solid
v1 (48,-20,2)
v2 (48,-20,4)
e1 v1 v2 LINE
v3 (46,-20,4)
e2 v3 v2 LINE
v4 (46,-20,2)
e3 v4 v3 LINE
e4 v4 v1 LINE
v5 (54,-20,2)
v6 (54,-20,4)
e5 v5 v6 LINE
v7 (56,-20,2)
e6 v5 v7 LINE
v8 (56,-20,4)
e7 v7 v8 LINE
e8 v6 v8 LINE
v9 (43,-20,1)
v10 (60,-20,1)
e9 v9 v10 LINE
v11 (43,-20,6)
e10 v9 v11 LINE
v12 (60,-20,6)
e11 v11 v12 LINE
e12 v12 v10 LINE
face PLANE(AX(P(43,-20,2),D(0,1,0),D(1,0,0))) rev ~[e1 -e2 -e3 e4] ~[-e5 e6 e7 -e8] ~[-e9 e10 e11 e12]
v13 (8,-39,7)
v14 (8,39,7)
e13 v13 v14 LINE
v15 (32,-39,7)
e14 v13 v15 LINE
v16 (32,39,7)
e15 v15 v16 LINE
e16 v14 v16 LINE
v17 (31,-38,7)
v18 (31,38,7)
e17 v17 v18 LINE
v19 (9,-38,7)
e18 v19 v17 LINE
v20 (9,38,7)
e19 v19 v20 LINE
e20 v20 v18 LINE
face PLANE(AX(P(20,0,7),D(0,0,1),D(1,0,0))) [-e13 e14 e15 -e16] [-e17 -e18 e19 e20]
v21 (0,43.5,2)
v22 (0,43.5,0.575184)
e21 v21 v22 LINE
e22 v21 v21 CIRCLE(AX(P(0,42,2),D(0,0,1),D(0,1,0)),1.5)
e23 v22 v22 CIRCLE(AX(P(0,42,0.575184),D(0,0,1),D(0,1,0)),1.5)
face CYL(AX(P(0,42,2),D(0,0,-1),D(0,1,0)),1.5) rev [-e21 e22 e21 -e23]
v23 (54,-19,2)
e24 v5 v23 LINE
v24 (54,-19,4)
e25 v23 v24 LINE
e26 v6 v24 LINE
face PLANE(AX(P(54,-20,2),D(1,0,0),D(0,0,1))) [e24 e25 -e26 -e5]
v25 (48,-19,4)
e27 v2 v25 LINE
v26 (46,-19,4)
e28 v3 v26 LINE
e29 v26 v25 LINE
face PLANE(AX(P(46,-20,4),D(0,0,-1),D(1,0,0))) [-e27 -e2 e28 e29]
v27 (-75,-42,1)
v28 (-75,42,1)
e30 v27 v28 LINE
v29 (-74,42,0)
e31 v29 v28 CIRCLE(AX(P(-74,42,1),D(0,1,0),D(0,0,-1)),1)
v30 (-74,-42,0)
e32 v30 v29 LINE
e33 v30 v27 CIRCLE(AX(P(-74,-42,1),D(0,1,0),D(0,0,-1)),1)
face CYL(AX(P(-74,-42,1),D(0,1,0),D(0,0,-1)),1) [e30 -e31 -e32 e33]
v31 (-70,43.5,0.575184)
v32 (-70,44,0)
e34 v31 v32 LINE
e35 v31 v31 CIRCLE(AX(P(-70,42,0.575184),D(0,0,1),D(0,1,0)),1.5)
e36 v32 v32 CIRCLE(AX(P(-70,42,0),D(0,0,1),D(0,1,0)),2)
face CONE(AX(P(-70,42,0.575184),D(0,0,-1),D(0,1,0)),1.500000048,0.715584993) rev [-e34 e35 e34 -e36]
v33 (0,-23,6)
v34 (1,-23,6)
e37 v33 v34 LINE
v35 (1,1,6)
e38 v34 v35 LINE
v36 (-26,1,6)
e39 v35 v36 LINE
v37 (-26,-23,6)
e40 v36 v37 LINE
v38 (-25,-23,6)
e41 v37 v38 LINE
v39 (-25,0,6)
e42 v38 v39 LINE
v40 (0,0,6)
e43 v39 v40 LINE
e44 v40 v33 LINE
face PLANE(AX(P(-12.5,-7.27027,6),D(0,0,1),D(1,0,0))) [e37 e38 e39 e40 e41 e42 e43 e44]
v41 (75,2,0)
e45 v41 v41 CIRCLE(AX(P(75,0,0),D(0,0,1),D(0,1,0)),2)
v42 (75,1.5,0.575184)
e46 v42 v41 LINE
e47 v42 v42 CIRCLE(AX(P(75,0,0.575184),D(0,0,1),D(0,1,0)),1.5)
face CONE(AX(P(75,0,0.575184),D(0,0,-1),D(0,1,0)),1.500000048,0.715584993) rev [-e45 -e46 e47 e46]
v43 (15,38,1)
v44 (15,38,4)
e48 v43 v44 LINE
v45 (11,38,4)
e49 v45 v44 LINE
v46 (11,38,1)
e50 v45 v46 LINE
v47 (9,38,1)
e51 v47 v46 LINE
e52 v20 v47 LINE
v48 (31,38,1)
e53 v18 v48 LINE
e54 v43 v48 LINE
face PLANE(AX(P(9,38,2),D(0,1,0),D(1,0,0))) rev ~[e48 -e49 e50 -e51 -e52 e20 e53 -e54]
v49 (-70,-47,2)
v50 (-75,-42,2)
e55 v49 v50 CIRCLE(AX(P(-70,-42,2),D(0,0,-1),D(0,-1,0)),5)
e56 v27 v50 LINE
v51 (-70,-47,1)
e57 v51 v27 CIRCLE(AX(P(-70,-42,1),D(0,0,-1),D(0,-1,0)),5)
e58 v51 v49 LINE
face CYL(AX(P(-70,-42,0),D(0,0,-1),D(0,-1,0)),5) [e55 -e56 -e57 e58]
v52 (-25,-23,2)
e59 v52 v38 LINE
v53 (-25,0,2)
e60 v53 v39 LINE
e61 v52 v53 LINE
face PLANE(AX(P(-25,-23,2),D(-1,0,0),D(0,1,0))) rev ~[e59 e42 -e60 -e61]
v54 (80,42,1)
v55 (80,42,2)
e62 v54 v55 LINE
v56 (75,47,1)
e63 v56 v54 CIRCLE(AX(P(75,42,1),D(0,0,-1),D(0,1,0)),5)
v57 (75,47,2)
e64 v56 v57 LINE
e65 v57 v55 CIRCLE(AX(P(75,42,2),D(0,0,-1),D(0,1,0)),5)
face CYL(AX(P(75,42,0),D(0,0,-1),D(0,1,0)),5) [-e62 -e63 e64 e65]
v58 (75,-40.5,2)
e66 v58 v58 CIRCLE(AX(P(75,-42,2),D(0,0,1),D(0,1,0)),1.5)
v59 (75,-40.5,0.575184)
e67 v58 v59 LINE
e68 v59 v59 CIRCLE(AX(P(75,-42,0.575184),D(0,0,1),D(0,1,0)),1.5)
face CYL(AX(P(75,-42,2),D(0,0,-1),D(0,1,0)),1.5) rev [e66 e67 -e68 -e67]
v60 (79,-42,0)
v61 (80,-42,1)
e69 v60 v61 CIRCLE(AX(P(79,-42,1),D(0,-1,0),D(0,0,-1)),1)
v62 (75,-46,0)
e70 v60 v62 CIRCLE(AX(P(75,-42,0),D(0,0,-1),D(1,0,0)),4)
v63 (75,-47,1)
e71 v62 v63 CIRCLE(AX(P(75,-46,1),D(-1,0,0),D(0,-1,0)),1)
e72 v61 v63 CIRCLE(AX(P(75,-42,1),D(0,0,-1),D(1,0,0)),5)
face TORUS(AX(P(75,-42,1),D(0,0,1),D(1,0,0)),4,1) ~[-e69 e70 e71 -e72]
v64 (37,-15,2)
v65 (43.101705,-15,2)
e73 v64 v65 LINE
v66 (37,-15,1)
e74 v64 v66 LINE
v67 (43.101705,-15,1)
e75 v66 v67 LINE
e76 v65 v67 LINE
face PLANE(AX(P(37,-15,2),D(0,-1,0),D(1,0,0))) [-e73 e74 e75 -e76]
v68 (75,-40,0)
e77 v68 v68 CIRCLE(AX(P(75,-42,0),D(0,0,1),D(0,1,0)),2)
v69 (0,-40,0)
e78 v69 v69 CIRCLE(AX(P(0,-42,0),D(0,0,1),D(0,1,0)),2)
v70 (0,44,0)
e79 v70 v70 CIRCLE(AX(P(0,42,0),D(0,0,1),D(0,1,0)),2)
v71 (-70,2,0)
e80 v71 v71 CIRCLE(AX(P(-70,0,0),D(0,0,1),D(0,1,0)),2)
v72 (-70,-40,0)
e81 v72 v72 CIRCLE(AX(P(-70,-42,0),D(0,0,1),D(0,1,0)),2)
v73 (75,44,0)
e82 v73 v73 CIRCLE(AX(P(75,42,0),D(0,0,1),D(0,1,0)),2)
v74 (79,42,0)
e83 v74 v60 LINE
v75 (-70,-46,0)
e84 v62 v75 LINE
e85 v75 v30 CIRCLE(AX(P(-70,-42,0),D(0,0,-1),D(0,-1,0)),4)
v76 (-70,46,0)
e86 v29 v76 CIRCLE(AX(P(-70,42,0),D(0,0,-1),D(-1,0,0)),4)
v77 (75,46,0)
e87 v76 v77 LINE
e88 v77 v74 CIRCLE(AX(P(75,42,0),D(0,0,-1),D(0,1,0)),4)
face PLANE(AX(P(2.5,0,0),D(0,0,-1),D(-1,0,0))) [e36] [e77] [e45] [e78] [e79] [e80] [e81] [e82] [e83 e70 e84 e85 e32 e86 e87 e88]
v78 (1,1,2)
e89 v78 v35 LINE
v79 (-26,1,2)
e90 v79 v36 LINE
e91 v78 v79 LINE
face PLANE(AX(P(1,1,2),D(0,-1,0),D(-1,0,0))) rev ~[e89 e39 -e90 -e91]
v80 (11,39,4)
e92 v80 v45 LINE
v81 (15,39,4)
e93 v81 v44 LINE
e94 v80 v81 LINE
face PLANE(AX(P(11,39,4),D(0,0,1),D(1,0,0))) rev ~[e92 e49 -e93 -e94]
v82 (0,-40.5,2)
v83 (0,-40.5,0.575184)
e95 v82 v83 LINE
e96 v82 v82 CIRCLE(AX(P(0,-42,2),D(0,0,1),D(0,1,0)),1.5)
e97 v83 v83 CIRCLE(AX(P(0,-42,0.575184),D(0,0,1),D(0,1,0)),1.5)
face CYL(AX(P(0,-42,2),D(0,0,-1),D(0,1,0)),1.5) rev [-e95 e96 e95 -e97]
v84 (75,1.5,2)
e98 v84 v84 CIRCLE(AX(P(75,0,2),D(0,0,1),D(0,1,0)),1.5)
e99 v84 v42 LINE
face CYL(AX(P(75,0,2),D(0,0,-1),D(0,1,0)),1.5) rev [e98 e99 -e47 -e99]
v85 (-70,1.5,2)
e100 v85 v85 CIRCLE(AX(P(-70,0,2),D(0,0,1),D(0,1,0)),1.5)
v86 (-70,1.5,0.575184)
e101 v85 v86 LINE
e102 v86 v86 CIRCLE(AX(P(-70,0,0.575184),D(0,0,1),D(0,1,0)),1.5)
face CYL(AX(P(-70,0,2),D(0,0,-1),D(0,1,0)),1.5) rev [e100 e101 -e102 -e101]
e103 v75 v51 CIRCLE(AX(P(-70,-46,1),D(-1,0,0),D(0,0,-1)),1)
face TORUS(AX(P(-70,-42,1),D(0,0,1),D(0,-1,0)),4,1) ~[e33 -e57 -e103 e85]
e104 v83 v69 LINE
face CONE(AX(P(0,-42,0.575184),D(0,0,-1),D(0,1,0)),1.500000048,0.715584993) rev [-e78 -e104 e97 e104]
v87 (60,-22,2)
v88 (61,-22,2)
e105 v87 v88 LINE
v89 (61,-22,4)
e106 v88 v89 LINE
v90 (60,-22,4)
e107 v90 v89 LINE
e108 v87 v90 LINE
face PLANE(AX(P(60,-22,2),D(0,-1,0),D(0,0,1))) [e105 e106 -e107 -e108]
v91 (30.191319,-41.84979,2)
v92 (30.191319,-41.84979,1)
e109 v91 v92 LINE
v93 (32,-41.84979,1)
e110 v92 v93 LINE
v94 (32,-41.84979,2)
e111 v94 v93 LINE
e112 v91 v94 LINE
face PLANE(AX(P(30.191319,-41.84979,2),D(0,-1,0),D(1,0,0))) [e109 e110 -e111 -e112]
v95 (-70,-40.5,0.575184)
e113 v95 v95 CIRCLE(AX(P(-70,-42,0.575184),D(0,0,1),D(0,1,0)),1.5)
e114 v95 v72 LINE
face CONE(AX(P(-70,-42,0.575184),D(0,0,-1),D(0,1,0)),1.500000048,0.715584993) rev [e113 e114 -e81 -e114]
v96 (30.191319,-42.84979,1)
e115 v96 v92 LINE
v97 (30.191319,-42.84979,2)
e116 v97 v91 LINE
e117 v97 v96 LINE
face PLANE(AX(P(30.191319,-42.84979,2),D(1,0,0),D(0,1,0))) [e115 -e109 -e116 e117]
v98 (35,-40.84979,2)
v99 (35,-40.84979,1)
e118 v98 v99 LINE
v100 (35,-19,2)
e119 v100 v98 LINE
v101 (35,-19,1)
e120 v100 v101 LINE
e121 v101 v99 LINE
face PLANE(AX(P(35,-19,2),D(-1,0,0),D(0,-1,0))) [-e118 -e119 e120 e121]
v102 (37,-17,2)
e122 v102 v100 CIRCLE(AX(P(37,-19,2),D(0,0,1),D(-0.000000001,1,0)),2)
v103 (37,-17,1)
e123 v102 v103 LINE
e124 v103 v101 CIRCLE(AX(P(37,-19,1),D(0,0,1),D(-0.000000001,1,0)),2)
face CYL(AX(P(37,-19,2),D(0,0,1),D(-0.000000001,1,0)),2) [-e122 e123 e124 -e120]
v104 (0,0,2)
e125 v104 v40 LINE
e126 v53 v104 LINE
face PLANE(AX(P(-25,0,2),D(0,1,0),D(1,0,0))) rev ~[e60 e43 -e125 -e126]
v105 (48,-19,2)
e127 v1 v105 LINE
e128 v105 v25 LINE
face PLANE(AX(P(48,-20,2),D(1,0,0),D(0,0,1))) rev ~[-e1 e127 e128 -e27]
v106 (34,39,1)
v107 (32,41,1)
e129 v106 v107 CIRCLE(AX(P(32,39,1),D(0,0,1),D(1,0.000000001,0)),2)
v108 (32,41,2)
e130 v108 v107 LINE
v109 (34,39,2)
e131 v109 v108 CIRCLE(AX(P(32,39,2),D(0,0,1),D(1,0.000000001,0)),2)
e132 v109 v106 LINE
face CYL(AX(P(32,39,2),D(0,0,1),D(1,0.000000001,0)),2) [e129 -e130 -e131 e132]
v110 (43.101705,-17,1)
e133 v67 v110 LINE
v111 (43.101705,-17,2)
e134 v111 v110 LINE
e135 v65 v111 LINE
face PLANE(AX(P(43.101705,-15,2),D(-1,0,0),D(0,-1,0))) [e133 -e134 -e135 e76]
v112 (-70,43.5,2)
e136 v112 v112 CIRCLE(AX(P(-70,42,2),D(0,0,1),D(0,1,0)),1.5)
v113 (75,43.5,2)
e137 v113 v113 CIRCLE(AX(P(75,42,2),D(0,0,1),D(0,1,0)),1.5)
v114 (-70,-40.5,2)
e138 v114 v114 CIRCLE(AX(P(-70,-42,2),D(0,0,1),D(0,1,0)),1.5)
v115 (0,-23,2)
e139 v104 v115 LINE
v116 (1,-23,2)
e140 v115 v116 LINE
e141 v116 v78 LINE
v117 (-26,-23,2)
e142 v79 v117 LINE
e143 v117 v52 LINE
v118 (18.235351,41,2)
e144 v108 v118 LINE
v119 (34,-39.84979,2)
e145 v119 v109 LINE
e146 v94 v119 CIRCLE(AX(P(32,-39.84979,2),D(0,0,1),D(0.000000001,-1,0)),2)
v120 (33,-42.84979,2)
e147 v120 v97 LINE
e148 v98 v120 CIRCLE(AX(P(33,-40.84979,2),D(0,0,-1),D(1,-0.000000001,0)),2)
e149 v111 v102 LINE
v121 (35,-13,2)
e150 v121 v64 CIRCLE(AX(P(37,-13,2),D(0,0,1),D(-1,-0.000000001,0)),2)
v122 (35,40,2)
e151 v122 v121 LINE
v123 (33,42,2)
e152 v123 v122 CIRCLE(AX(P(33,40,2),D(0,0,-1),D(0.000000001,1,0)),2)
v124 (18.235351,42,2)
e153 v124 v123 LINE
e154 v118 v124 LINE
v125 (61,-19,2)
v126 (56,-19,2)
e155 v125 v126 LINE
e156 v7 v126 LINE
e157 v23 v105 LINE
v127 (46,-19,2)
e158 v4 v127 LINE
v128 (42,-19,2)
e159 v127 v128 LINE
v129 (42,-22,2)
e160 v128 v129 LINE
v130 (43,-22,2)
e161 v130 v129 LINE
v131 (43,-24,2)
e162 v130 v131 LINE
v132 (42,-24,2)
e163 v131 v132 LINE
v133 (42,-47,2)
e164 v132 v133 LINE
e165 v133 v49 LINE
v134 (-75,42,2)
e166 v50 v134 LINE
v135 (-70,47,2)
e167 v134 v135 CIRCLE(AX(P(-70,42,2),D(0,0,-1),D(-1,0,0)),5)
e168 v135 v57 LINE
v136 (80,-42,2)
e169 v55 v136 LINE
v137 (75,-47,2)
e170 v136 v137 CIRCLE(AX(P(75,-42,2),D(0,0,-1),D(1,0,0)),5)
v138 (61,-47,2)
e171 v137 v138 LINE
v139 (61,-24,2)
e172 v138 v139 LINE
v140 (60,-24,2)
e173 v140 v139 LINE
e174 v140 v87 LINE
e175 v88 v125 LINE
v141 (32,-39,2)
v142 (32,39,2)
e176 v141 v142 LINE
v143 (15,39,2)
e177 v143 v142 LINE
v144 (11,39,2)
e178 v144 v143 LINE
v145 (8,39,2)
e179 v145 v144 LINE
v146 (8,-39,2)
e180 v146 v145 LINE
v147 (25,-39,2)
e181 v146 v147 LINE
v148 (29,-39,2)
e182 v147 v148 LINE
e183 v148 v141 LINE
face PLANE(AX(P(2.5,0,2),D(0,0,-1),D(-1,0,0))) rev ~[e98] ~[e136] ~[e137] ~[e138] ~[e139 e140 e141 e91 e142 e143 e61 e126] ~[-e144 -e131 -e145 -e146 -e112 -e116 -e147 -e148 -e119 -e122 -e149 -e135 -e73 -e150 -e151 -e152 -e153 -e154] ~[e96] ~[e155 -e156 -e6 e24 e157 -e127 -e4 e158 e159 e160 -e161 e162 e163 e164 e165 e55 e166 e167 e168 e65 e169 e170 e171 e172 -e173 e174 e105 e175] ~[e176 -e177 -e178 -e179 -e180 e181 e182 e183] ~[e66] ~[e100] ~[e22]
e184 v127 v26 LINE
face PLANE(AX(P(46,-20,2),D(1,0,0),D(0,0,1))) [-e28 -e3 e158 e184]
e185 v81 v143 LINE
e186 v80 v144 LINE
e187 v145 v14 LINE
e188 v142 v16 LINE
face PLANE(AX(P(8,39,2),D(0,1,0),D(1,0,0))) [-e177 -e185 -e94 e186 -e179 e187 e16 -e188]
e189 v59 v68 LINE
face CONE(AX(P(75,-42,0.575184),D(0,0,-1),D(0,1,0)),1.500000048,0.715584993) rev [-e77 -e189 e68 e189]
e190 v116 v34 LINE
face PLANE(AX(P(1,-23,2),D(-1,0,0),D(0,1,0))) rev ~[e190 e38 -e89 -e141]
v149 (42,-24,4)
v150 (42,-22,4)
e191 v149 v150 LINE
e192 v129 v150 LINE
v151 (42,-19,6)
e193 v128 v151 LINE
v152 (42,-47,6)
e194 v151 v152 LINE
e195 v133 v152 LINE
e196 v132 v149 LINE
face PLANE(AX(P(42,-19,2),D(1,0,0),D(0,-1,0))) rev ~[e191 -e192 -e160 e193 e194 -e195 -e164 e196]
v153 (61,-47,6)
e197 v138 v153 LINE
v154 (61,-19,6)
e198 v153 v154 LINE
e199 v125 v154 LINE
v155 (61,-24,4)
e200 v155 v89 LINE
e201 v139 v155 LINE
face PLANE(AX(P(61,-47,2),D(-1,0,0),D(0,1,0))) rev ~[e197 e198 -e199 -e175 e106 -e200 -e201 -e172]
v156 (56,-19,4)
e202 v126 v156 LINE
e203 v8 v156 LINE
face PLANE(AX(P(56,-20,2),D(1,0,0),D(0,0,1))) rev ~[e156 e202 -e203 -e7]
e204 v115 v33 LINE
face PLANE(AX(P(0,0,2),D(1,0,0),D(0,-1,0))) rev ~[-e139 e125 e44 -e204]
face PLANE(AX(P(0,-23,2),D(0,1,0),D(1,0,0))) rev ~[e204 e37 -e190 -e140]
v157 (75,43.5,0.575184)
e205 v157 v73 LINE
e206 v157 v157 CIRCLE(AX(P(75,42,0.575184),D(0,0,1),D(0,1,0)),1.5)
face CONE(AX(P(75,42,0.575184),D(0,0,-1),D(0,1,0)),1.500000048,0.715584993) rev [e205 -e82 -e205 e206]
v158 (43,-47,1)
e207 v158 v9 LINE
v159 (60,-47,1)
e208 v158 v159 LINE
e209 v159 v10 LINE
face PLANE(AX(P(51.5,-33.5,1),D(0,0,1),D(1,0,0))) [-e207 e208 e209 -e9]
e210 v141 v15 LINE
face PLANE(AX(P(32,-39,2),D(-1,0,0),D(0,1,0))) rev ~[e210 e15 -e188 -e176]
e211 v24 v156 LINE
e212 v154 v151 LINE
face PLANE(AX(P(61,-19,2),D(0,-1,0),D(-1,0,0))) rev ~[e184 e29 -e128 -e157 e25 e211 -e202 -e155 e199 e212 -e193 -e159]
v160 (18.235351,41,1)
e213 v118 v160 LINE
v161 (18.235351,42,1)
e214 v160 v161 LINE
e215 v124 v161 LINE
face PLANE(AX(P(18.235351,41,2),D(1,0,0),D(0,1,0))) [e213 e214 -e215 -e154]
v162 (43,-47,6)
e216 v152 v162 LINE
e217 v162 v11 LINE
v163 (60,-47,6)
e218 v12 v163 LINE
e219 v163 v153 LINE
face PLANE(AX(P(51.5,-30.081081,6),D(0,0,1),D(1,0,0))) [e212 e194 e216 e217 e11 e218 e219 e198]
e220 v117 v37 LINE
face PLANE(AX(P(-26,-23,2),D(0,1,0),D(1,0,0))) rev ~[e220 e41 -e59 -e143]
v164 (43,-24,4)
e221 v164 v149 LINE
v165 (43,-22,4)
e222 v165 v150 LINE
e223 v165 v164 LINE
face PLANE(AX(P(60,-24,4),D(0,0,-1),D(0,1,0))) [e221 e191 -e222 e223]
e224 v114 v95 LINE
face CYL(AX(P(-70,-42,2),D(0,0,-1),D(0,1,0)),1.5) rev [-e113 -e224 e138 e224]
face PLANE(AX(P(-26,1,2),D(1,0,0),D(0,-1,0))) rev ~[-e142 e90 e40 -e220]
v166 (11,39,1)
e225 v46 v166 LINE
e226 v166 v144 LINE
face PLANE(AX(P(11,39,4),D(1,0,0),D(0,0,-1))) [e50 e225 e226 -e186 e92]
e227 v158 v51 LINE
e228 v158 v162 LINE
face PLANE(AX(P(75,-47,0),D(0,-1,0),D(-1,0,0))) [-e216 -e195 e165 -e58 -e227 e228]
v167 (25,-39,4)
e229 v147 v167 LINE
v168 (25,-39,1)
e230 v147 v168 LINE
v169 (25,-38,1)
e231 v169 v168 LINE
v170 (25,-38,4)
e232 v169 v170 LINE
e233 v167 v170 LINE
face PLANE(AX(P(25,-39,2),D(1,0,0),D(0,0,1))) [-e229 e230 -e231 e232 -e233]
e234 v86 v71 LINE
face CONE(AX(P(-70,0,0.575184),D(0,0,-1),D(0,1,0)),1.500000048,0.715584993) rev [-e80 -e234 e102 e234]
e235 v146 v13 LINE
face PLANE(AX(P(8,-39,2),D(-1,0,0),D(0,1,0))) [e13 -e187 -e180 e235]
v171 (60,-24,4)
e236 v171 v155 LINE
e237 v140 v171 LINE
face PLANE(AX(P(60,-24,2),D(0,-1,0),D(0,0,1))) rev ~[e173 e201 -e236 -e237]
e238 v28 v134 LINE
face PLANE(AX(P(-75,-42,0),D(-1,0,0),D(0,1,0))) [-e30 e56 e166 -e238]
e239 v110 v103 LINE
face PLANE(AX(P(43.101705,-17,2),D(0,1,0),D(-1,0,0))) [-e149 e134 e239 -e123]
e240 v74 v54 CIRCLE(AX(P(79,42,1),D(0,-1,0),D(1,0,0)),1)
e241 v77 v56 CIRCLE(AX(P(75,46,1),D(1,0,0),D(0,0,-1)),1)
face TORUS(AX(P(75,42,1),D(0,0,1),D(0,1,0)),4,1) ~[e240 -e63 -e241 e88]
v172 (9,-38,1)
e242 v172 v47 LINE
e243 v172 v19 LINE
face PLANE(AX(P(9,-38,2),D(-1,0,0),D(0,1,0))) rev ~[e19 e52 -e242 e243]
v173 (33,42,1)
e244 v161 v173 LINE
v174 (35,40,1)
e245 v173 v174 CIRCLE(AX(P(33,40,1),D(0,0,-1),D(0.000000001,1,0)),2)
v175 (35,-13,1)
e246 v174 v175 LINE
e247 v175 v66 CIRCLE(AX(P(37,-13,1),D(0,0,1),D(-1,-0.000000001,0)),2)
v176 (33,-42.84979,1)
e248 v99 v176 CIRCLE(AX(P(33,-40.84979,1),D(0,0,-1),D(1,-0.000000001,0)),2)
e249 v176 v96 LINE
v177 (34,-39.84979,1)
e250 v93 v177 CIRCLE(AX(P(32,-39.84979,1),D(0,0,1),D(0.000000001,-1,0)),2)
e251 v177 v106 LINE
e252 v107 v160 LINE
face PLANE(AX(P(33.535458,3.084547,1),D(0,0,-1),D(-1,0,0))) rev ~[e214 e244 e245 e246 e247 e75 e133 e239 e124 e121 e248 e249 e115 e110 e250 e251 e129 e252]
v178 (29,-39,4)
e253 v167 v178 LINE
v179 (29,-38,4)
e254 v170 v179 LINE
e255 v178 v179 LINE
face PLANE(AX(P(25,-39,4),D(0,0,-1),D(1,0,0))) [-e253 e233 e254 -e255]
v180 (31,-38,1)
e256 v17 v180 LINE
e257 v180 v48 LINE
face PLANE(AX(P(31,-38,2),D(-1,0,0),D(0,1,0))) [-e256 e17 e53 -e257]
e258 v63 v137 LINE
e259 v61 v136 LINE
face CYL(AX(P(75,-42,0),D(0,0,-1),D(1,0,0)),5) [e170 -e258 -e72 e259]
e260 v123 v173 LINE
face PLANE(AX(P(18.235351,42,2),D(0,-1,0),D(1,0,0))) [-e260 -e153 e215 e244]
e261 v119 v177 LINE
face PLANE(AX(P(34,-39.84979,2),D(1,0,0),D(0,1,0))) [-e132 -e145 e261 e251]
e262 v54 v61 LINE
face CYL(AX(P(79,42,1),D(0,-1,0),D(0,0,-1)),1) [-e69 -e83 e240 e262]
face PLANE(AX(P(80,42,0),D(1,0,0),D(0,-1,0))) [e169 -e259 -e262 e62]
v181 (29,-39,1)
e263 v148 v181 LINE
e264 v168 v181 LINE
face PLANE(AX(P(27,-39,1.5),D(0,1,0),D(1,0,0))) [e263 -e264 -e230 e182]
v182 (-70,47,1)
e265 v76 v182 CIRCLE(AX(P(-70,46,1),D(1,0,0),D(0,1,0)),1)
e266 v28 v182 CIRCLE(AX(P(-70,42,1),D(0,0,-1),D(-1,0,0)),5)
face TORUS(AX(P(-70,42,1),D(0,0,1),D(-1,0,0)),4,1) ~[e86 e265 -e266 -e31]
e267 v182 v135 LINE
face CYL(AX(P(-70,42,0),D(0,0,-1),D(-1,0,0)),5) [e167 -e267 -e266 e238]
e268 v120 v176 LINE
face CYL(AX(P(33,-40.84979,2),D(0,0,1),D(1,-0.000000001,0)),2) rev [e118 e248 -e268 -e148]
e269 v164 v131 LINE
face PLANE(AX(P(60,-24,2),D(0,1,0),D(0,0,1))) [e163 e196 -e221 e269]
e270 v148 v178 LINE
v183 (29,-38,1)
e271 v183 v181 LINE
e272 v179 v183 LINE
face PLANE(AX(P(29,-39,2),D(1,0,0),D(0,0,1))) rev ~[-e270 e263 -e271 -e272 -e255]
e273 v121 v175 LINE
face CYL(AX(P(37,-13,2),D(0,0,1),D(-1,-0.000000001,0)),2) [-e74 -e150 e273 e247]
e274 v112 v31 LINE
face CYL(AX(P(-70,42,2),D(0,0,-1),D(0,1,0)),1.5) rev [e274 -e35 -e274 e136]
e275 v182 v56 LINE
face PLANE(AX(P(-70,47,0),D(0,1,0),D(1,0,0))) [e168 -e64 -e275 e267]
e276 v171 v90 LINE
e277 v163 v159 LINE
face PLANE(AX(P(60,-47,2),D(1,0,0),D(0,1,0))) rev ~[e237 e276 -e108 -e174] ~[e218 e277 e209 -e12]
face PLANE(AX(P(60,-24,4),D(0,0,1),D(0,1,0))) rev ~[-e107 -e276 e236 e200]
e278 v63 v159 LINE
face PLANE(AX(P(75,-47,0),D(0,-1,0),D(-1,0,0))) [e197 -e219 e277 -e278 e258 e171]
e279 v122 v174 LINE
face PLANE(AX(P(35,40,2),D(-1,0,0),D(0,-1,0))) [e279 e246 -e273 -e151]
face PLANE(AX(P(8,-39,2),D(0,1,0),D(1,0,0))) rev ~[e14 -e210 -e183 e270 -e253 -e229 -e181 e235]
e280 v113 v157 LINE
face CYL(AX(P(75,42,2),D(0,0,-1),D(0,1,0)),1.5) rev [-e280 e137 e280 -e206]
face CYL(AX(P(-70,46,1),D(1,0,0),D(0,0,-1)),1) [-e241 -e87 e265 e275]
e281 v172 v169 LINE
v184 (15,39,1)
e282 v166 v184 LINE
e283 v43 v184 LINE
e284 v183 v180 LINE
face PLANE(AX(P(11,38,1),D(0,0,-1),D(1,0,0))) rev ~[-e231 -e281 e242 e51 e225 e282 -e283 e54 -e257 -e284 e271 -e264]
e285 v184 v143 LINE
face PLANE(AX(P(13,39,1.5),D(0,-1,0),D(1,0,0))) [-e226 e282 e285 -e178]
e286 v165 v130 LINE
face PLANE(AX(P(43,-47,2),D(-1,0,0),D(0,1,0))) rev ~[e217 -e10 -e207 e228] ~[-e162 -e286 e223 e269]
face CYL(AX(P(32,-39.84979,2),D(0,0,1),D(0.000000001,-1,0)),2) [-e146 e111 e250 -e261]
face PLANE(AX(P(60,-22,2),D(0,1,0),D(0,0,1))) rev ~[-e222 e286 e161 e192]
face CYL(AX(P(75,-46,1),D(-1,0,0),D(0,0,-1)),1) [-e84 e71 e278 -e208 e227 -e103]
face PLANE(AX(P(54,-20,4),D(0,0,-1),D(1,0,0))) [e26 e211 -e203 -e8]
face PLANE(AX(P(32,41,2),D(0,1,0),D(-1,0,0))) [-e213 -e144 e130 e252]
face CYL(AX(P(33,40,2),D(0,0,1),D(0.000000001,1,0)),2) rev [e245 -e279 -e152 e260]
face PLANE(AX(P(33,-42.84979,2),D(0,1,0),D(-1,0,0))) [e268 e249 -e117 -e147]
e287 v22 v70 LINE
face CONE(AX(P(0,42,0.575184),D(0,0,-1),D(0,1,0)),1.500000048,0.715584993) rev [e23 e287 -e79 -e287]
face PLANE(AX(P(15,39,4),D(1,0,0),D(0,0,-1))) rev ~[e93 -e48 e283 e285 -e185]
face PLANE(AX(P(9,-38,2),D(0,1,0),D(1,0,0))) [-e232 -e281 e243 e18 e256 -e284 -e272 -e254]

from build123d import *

# Parameters (mm, degrees)
BOSS_EXTRUDE1_DEPTH                           = 2
CSK_FOR_0_FLAT_HEAD_MACHINE_SCREW1_AT_2_COUNT = 2
CSK_FOR_0_FLAT_HEAD_MACHINE_SCREW1_AT_2_PITCH = 42
CSK_FOR_0_FLAT_HEAD_MACHINE_SCREW1_AT_3_COUNT = 2
CSK_FOR_0_FLAT_HEAD_MACHINE_SCREW1_AT_3_PITCH = 84
CSK_FOR_0_FLAT_HEAD_MACHINE_SCREW1_AT_4_COUNT = 2
CSK_FOR_0_FLAT_HEAD_MACHINE_SCREW1_AT_4_PITCH = 112.609946275
CSK_FOR_0_FLAT_HEAD_MACHINE_SCREW1_AT_5_COUNT = 2
CSK_FOR_0_FLAT_HEAD_MACHINE_SCREW1_AT_5_PITCH = 167.573864311
CSK_FOR_0_FLAT_HEAD_MACHINE_SCREW1_AT_6_COUNT = 2
CSK_FOR_0_FLAT_HEAD_MACHINE_SCREW1_AT_6_PITCH = 150.960259671
CSK_FOR_0_FLAT_HEAD_MACHINE_SCREW1_AT_7_COUNT = 2
CSK_FOR_0_FLAT_HEAD_MACHINE_SCREW1_AT_7_PITCH = 145
CSK_FOR_0_FLAT_HEAD_MACHINE_SCREW1_AT_8_COUNT = 2
CSK_FOR_0_FLAT_HEAD_MACHINE_SCREW1_AT_8_PITCH = 75
FILLET1_R                                     = 1
SKETCH9_W                                     = 22
SKETCH9_H                                     = 76
CUT_EXTRUDE2_DEPTH                            = 1
SKETCH9_5_W                                   = 24
SKETCH9_5_H                                   = 78
SKETCH9_5_W_2                                 = 22
SKETCH9_5_H_2                                 = 76
BOSS_EXTRUDE4_DEPTH                           = 5
SKETCH11_W                                    = 4
SKETCH11_H                                    = 2
CUT_EXTRUDE4_DEPTH                            = 5
SKETCH13_W                                    = 4
SKETCH13_H                                    = 2
CUT_EXTRUDE5_DEPTH                            = 1
SKETCH14_W                                    = 4
SKETCH14_H                                    = 1
CUT_EXTRUDE6_DEPTH                            = 1
SKETCH15_W                                    = 4
SKETCH15_H                                    = 1
CUT_EXTRUDE7_DEPTH                            = 1
BOSS_EXTRUDE5_DEPTH                           = 4
SKETCH9_8_W                                   = 17
SKETCH9_8_H                                   = 27
CUT_EXTRUDE10_DEPTH                           = 1
SKETCH17_W                                    = 2
SKETCH17_H                                    = 2
CUT_EXTRUDE11_DEPTH                           = 1
CUT_EXTRUDE12_DEPTH                           = 21
CUT_EXTRUDE12_DEPTH_BACK                      = 1
SKETCH18_W                                    = 2
SKETCH18_H                                    = 2
CUT_EXTRUDE13_DEPTH                           = 1
BOSS_EXTRUDE6_DEPTH                           = 4


with BuildPart() as part:
    # Sketch1 → Boss-Extrude1 (new body)
    with BuildSketch(Plane.XY):
        with BuildLine():
            Line((-70, 47), (75, 47))
            ThreePointArc((75, 47), (78.535533906, 45.535533906), (80, 42))
            Line((80, 42), (80, -42))
            ThreePointArc((80, -42), (78.535533906, -45.535533906), (75, -47))
            Line((75, -47), (-70, -47))
            ThreePointArc((-70, -47), (-73.535533906, -45.535533906), (-75, -42))
            Line((-75, -42), (-75, 42))
            ThreePointArc((-75, 42), (-73.535533906, 45.535533906), (-70, 47))
        make_face()
    extrude(amount=BOSS_EXTRUDE1_DEPTH)

    # Sketch8 → CSK for #0 Flat Head Machine Screw1 (revolve, cut)
    with BuildSketch(Plane(origin=(75, 42, 0), x_dir=(0, 1, 0), z_dir=(1, 0, 0))):
        Polygon((0, 0), (0, 2), (1.500000048, 2), (1.500000048, 0.575184076), (1.999999937, 0), align=None)
    csk_for_0_flat_head_machine_screw1 = revolve(axis=Axis((75, 42, -6.35), (0, 0, 1)), mode=Mode.SUBTRACT)

    # CSK for #0 Flat Head Machine Screw1 at 2: CSK for #0 Flat Head Machine Screw1 ×2
    with Locations(*[(0, -i * CSK_FOR_0_FLAT_HEAD_MACHINE_SCREW1_AT_2_PITCH, 0) for i in range(1, CSK_FOR_0_FLAT_HEAD_MACHINE_SCREW1_AT_2_COUNT)]):
        add(csk_for_0_flat_head_machine_screw1, mode=Mode.SUBTRACT)

    # CSK for #0 Flat Head Machine Screw1 at 3: CSK for #0 Flat Head Machine Screw1 ×2
    with Locations(*[(0, -i * CSK_FOR_0_FLAT_HEAD_MACHINE_SCREW1_AT_3_PITCH, 0) for i in range(1, CSK_FOR_0_FLAT_HEAD_MACHINE_SCREW1_AT_3_COUNT)]):
        add(csk_for_0_flat_head_machine_screw1, mode=Mode.SUBTRACT)

    # CSK for #0 Flat Head Machine Screw1 at 4: CSK for #0 Flat Head Machine Screw1 ×2
    with Locations(*[Vector(-0.6660157693088523, -0.7459376616259147, 0) * (i * CSK_FOR_0_FLAT_HEAD_MACHINE_SCREW1_AT_4_PITCH) for i in range(1, CSK_FOR_0_FLAT_HEAD_MACHINE_SCREW1_AT_4_COUNT)]):
        add(csk_for_0_flat_head_machine_screw1, mode=Mode.SUBTRACT)

    # CSK for #0 Flat Head Machine Screw1 at 5: CSK for #0 Flat Head Machine Screw1 ×2
    with Locations(*[Vector(-0.8652900653481878, -0.5012714861327433, 0) * (i * CSK_FOR_0_FLAT_HEAD_MACHINE_SCREW1_AT_5_PITCH) for i in range(1, CSK_FOR_0_FLAT_HEAD_MACHINE_SCREW1_AT_5_COUNT)]):
        add(csk_for_0_flat_head_machine_screw1, mode=Mode.SUBTRACT)

    # CSK for #0 Flat Head Machine Screw1 at 6: CSK for #0 Flat Head Machine Screw1 ×2
    with Locations(*[Vector(-0.9605176906545201, -0.27821891729303344, 0) * (i * CSK_FOR_0_FLAT_HEAD_MACHINE_SCREW1_AT_6_PITCH) for i in range(1, CSK_FOR_0_FLAT_HEAD_MACHINE_SCREW1_AT_6_COUNT)]):
        add(csk_for_0_flat_head_machine_screw1, mode=Mode.SUBTRACT)

    # CSK for #0 Flat Head Machine Screw1 at 7: CSK for #0 Flat Head Machine Screw1 ×2
    with Locations(*[(-i * CSK_FOR_0_FLAT_HEAD_MACHINE_SCREW1_AT_7_PITCH, 0, 0) for i in range(1, CSK_FOR_0_FLAT_HEAD_MACHINE_SCREW1_AT_7_COUNT)]):
        add(csk_for_0_flat_head_machine_screw1, mode=Mode.SUBTRACT)

    # CSK for #0 Flat Head Machine Screw1 at 8: CSK for #0 Flat Head Machine Screw1 ×2
    with Locations(*[(-i * CSK_FOR_0_FLAT_HEAD_MACHINE_SCREW1_AT_8_PITCH, 0, 0) for i in range(1, CSK_FOR_0_FLAT_HEAD_MACHINE_SCREW1_AT_8_COUNT)]):
        add(csk_for_0_flat_head_machine_screw1, mode=Mode.SUBTRACT)

    # Fillet1
    fillet1_edges = [part.edges().sort_by_distance(p)[0] for p in [
        (78.535533906, 45.535533906, 0),
        (80, 0, 0),
        (78.535533906, -45.535533906, 0),
        (2.5, -47, 0),
        (-73.535533906, -45.535533906, 0),
        (-75, 0, 0),
        (-73.535533906, 45.535533906, 0),
        (2.5, 47, 0),
    ]]
    fillet(fillet1_edges, radius=FILLET1_R)

    # Sketch9 → Cut-Extrude2 (cut)
    with BuildSketch(Plane.XY.offset(2)):
        with Locations((20, 0)):
            Rectangle(SKETCH9_W, SKETCH9_H)
    extrude(amount=-CUT_EXTRUDE2_DEPTH, mode=Mode.SUBTRACT)

    # Sketch9<5> → Boss-Extrude4 (add)
    with BuildSketch(Plane.XY.offset(2)):
        with Locations((20, 0)):
            Rectangle(SKETCH9_5_W, SKETCH9_5_H)
        with Locations((20, 0)):
            Rectangle(SKETCH9_5_W_2, SKETCH9_5_H_2, mode=Mode.SUBTRACT)
    extrude(amount=BOSS_EXTRUDE4_DEPTH)

    # Sketch11 → Cut-Extrude4 (cut)
    with BuildSketch(Plane(origin=(0, 39, 0), x_dir=(1, 0, 0), z_dir=(0, 1, 0))):
        with Locations((13, -3)):
            Rectangle(SKETCH11_W, SKETCH11_H)
    extrude(amount=-CUT_EXTRUDE4_DEPTH, mode=Mode.SUBTRACT)

    # Sketch13 → Cut-Extrude5 (cut)
    with BuildSketch(Plane.XZ.offset(39)):
        with Locations((27, 3)):
            Rectangle(SKETCH13_W, SKETCH13_H)
    extrude(amount=-CUT_EXTRUDE5_DEPTH, mode=Mode.SUBTRACT)

    # Sketch14 → Cut-Extrude6 (cut)
    with BuildSketch(Plane.XZ.offset(-38)):
        with Locations((13, 1.5)):
            Rectangle(SKETCH14_W, SKETCH14_H)
    extrude(amount=-CUT_EXTRUDE6_DEPTH, mode=Mode.SUBTRACT)

    # Sketch15 → Cut-Extrude7 (cut)
    with BuildSketch(Plane(origin=(0, -38, 0), x_dir=(1, 0, 0), z_dir=(0, 1, 0))):
        with Locations((27, -1.5)):
            Rectangle(SKETCH15_W, SKETCH15_H)
    extrude(amount=-CUT_EXTRUDE7_DEPTH, mode=Mode.SUBTRACT)

    # Sketch9<7> → Boss-Extrude5 (add)
    with BuildSketch(Plane.XY.offset(2)):
        Polygon((42, -47), (43, -47), (43, -20), (60, -20), (60, -47), (61, -47), (61, -19), (42, -19), align=None)
    extrude(amount=BOSS_EXTRUDE5_DEPTH)

    # Sketch9<8> → Cut-Extrude10 (cut)
    with BuildSketch(Plane.XY.offset(2)):
        with Locations((51.5, -33.5)):
            Rectangle(SKETCH9_8_W, SKETCH9_8_H)
    extrude(amount=-CUT_EXTRUDE10_DEPTH, mode=Mode.SUBTRACT)

    # Sketch17 → Cut-Extrude11 (cut)
    with BuildSketch(Plane.XZ.offset(20)):
        with Locations((47, 3)):
            Rectangle(SKETCH17_W, SKETCH17_H)
        with Locations((55, 3)):
            Rectangle(SKETCH17_W, SKETCH17_H)
    extrude(amount=-CUT_EXTRUDE11_DEPTH, mode=Mode.SUBTRACT)

    # Sketch18 → Cut-Extrude12 (cut, two sides: drawn at the far end of the back side and taken through both)
    with BuildSketch(Plane.ZY.offset(-60).offset(-CUT_EXTRUDE12_DEPTH_BACK)):
        with Locations((3, -23)):
            Rectangle(SKETCH18_W, SKETCH18_H)
    extrude(amount=CUT_EXTRUDE12_DEPTH + CUT_EXTRUDE12_DEPTH_BACK, mode=Mode.SUBTRACT)

    # Sketch19 → Cut-Extrude13 (cut)
    with BuildSketch(Plane.XY.offset(2)):
        with BuildLine():
            Line((32, -41.849789893), (30.191318858, -41.849789893))
            Line((30.191318858, -41.849789893), (30.191318858, -42.849789893))
            Line((30.191318858, -42.849789893), (33, -42.849789893))
            ThreePointArc((33, -42.849789893), (34.414213562, -42.264003455), (35, -40.849789893))
            Line((35, -40.849789893), (35, -19))
            ThreePointArc((35, -19), (35.585786438, -17.585786438), (37, -17))
            Line((37, -17), (43.101704987, -17))
            Line((43.101704987, -17), (43.101704987, -16))
            Line((43.101704987, -16), (43.101704987, -15))
            Line((43.101704987, -15), (37, -15))
            ThreePointArc((37, -15), (35.585786438, -14.414213562), (35, -13))
            Line((35, -13), (35, 40))
            ThreePointArc((35, 40), (34.414213562, 41.414213562), (33, 42))
            Line((33, 42), (18.235350669, 42))
            Line((18.235350669, 42), (18.235350669, 41))
            Line((18.235350669, 41), (32, 41))
            ThreePointArc((32, 41), (33.414213562, 40.414213562), (34, 39))
            Line((34, 39), (34, -16))
            Line((34, -16), (34, -39.849789893))
            ThreePointArc((34, -39.849789893), (33.414213562, -41.264003455), (32, -41.849789893))
        make_face()
    extrude(amount=-CUT_EXTRUDE13_DEPTH, mode=Mode.SUBTRACT)

    # Sketch20 → Boss-Extrude6 (add)
    with BuildSketch(Plane.XY.offset(2)):
        Polygon((0, 0), (0, -23), (1, -23), (1, 1), (-26, 1), (-26, -23), (-25, -23), (-25, 0), align=None)
    extrude(amount=BOSS_EXTRUDE6_DEPTH)


solid = part.part
